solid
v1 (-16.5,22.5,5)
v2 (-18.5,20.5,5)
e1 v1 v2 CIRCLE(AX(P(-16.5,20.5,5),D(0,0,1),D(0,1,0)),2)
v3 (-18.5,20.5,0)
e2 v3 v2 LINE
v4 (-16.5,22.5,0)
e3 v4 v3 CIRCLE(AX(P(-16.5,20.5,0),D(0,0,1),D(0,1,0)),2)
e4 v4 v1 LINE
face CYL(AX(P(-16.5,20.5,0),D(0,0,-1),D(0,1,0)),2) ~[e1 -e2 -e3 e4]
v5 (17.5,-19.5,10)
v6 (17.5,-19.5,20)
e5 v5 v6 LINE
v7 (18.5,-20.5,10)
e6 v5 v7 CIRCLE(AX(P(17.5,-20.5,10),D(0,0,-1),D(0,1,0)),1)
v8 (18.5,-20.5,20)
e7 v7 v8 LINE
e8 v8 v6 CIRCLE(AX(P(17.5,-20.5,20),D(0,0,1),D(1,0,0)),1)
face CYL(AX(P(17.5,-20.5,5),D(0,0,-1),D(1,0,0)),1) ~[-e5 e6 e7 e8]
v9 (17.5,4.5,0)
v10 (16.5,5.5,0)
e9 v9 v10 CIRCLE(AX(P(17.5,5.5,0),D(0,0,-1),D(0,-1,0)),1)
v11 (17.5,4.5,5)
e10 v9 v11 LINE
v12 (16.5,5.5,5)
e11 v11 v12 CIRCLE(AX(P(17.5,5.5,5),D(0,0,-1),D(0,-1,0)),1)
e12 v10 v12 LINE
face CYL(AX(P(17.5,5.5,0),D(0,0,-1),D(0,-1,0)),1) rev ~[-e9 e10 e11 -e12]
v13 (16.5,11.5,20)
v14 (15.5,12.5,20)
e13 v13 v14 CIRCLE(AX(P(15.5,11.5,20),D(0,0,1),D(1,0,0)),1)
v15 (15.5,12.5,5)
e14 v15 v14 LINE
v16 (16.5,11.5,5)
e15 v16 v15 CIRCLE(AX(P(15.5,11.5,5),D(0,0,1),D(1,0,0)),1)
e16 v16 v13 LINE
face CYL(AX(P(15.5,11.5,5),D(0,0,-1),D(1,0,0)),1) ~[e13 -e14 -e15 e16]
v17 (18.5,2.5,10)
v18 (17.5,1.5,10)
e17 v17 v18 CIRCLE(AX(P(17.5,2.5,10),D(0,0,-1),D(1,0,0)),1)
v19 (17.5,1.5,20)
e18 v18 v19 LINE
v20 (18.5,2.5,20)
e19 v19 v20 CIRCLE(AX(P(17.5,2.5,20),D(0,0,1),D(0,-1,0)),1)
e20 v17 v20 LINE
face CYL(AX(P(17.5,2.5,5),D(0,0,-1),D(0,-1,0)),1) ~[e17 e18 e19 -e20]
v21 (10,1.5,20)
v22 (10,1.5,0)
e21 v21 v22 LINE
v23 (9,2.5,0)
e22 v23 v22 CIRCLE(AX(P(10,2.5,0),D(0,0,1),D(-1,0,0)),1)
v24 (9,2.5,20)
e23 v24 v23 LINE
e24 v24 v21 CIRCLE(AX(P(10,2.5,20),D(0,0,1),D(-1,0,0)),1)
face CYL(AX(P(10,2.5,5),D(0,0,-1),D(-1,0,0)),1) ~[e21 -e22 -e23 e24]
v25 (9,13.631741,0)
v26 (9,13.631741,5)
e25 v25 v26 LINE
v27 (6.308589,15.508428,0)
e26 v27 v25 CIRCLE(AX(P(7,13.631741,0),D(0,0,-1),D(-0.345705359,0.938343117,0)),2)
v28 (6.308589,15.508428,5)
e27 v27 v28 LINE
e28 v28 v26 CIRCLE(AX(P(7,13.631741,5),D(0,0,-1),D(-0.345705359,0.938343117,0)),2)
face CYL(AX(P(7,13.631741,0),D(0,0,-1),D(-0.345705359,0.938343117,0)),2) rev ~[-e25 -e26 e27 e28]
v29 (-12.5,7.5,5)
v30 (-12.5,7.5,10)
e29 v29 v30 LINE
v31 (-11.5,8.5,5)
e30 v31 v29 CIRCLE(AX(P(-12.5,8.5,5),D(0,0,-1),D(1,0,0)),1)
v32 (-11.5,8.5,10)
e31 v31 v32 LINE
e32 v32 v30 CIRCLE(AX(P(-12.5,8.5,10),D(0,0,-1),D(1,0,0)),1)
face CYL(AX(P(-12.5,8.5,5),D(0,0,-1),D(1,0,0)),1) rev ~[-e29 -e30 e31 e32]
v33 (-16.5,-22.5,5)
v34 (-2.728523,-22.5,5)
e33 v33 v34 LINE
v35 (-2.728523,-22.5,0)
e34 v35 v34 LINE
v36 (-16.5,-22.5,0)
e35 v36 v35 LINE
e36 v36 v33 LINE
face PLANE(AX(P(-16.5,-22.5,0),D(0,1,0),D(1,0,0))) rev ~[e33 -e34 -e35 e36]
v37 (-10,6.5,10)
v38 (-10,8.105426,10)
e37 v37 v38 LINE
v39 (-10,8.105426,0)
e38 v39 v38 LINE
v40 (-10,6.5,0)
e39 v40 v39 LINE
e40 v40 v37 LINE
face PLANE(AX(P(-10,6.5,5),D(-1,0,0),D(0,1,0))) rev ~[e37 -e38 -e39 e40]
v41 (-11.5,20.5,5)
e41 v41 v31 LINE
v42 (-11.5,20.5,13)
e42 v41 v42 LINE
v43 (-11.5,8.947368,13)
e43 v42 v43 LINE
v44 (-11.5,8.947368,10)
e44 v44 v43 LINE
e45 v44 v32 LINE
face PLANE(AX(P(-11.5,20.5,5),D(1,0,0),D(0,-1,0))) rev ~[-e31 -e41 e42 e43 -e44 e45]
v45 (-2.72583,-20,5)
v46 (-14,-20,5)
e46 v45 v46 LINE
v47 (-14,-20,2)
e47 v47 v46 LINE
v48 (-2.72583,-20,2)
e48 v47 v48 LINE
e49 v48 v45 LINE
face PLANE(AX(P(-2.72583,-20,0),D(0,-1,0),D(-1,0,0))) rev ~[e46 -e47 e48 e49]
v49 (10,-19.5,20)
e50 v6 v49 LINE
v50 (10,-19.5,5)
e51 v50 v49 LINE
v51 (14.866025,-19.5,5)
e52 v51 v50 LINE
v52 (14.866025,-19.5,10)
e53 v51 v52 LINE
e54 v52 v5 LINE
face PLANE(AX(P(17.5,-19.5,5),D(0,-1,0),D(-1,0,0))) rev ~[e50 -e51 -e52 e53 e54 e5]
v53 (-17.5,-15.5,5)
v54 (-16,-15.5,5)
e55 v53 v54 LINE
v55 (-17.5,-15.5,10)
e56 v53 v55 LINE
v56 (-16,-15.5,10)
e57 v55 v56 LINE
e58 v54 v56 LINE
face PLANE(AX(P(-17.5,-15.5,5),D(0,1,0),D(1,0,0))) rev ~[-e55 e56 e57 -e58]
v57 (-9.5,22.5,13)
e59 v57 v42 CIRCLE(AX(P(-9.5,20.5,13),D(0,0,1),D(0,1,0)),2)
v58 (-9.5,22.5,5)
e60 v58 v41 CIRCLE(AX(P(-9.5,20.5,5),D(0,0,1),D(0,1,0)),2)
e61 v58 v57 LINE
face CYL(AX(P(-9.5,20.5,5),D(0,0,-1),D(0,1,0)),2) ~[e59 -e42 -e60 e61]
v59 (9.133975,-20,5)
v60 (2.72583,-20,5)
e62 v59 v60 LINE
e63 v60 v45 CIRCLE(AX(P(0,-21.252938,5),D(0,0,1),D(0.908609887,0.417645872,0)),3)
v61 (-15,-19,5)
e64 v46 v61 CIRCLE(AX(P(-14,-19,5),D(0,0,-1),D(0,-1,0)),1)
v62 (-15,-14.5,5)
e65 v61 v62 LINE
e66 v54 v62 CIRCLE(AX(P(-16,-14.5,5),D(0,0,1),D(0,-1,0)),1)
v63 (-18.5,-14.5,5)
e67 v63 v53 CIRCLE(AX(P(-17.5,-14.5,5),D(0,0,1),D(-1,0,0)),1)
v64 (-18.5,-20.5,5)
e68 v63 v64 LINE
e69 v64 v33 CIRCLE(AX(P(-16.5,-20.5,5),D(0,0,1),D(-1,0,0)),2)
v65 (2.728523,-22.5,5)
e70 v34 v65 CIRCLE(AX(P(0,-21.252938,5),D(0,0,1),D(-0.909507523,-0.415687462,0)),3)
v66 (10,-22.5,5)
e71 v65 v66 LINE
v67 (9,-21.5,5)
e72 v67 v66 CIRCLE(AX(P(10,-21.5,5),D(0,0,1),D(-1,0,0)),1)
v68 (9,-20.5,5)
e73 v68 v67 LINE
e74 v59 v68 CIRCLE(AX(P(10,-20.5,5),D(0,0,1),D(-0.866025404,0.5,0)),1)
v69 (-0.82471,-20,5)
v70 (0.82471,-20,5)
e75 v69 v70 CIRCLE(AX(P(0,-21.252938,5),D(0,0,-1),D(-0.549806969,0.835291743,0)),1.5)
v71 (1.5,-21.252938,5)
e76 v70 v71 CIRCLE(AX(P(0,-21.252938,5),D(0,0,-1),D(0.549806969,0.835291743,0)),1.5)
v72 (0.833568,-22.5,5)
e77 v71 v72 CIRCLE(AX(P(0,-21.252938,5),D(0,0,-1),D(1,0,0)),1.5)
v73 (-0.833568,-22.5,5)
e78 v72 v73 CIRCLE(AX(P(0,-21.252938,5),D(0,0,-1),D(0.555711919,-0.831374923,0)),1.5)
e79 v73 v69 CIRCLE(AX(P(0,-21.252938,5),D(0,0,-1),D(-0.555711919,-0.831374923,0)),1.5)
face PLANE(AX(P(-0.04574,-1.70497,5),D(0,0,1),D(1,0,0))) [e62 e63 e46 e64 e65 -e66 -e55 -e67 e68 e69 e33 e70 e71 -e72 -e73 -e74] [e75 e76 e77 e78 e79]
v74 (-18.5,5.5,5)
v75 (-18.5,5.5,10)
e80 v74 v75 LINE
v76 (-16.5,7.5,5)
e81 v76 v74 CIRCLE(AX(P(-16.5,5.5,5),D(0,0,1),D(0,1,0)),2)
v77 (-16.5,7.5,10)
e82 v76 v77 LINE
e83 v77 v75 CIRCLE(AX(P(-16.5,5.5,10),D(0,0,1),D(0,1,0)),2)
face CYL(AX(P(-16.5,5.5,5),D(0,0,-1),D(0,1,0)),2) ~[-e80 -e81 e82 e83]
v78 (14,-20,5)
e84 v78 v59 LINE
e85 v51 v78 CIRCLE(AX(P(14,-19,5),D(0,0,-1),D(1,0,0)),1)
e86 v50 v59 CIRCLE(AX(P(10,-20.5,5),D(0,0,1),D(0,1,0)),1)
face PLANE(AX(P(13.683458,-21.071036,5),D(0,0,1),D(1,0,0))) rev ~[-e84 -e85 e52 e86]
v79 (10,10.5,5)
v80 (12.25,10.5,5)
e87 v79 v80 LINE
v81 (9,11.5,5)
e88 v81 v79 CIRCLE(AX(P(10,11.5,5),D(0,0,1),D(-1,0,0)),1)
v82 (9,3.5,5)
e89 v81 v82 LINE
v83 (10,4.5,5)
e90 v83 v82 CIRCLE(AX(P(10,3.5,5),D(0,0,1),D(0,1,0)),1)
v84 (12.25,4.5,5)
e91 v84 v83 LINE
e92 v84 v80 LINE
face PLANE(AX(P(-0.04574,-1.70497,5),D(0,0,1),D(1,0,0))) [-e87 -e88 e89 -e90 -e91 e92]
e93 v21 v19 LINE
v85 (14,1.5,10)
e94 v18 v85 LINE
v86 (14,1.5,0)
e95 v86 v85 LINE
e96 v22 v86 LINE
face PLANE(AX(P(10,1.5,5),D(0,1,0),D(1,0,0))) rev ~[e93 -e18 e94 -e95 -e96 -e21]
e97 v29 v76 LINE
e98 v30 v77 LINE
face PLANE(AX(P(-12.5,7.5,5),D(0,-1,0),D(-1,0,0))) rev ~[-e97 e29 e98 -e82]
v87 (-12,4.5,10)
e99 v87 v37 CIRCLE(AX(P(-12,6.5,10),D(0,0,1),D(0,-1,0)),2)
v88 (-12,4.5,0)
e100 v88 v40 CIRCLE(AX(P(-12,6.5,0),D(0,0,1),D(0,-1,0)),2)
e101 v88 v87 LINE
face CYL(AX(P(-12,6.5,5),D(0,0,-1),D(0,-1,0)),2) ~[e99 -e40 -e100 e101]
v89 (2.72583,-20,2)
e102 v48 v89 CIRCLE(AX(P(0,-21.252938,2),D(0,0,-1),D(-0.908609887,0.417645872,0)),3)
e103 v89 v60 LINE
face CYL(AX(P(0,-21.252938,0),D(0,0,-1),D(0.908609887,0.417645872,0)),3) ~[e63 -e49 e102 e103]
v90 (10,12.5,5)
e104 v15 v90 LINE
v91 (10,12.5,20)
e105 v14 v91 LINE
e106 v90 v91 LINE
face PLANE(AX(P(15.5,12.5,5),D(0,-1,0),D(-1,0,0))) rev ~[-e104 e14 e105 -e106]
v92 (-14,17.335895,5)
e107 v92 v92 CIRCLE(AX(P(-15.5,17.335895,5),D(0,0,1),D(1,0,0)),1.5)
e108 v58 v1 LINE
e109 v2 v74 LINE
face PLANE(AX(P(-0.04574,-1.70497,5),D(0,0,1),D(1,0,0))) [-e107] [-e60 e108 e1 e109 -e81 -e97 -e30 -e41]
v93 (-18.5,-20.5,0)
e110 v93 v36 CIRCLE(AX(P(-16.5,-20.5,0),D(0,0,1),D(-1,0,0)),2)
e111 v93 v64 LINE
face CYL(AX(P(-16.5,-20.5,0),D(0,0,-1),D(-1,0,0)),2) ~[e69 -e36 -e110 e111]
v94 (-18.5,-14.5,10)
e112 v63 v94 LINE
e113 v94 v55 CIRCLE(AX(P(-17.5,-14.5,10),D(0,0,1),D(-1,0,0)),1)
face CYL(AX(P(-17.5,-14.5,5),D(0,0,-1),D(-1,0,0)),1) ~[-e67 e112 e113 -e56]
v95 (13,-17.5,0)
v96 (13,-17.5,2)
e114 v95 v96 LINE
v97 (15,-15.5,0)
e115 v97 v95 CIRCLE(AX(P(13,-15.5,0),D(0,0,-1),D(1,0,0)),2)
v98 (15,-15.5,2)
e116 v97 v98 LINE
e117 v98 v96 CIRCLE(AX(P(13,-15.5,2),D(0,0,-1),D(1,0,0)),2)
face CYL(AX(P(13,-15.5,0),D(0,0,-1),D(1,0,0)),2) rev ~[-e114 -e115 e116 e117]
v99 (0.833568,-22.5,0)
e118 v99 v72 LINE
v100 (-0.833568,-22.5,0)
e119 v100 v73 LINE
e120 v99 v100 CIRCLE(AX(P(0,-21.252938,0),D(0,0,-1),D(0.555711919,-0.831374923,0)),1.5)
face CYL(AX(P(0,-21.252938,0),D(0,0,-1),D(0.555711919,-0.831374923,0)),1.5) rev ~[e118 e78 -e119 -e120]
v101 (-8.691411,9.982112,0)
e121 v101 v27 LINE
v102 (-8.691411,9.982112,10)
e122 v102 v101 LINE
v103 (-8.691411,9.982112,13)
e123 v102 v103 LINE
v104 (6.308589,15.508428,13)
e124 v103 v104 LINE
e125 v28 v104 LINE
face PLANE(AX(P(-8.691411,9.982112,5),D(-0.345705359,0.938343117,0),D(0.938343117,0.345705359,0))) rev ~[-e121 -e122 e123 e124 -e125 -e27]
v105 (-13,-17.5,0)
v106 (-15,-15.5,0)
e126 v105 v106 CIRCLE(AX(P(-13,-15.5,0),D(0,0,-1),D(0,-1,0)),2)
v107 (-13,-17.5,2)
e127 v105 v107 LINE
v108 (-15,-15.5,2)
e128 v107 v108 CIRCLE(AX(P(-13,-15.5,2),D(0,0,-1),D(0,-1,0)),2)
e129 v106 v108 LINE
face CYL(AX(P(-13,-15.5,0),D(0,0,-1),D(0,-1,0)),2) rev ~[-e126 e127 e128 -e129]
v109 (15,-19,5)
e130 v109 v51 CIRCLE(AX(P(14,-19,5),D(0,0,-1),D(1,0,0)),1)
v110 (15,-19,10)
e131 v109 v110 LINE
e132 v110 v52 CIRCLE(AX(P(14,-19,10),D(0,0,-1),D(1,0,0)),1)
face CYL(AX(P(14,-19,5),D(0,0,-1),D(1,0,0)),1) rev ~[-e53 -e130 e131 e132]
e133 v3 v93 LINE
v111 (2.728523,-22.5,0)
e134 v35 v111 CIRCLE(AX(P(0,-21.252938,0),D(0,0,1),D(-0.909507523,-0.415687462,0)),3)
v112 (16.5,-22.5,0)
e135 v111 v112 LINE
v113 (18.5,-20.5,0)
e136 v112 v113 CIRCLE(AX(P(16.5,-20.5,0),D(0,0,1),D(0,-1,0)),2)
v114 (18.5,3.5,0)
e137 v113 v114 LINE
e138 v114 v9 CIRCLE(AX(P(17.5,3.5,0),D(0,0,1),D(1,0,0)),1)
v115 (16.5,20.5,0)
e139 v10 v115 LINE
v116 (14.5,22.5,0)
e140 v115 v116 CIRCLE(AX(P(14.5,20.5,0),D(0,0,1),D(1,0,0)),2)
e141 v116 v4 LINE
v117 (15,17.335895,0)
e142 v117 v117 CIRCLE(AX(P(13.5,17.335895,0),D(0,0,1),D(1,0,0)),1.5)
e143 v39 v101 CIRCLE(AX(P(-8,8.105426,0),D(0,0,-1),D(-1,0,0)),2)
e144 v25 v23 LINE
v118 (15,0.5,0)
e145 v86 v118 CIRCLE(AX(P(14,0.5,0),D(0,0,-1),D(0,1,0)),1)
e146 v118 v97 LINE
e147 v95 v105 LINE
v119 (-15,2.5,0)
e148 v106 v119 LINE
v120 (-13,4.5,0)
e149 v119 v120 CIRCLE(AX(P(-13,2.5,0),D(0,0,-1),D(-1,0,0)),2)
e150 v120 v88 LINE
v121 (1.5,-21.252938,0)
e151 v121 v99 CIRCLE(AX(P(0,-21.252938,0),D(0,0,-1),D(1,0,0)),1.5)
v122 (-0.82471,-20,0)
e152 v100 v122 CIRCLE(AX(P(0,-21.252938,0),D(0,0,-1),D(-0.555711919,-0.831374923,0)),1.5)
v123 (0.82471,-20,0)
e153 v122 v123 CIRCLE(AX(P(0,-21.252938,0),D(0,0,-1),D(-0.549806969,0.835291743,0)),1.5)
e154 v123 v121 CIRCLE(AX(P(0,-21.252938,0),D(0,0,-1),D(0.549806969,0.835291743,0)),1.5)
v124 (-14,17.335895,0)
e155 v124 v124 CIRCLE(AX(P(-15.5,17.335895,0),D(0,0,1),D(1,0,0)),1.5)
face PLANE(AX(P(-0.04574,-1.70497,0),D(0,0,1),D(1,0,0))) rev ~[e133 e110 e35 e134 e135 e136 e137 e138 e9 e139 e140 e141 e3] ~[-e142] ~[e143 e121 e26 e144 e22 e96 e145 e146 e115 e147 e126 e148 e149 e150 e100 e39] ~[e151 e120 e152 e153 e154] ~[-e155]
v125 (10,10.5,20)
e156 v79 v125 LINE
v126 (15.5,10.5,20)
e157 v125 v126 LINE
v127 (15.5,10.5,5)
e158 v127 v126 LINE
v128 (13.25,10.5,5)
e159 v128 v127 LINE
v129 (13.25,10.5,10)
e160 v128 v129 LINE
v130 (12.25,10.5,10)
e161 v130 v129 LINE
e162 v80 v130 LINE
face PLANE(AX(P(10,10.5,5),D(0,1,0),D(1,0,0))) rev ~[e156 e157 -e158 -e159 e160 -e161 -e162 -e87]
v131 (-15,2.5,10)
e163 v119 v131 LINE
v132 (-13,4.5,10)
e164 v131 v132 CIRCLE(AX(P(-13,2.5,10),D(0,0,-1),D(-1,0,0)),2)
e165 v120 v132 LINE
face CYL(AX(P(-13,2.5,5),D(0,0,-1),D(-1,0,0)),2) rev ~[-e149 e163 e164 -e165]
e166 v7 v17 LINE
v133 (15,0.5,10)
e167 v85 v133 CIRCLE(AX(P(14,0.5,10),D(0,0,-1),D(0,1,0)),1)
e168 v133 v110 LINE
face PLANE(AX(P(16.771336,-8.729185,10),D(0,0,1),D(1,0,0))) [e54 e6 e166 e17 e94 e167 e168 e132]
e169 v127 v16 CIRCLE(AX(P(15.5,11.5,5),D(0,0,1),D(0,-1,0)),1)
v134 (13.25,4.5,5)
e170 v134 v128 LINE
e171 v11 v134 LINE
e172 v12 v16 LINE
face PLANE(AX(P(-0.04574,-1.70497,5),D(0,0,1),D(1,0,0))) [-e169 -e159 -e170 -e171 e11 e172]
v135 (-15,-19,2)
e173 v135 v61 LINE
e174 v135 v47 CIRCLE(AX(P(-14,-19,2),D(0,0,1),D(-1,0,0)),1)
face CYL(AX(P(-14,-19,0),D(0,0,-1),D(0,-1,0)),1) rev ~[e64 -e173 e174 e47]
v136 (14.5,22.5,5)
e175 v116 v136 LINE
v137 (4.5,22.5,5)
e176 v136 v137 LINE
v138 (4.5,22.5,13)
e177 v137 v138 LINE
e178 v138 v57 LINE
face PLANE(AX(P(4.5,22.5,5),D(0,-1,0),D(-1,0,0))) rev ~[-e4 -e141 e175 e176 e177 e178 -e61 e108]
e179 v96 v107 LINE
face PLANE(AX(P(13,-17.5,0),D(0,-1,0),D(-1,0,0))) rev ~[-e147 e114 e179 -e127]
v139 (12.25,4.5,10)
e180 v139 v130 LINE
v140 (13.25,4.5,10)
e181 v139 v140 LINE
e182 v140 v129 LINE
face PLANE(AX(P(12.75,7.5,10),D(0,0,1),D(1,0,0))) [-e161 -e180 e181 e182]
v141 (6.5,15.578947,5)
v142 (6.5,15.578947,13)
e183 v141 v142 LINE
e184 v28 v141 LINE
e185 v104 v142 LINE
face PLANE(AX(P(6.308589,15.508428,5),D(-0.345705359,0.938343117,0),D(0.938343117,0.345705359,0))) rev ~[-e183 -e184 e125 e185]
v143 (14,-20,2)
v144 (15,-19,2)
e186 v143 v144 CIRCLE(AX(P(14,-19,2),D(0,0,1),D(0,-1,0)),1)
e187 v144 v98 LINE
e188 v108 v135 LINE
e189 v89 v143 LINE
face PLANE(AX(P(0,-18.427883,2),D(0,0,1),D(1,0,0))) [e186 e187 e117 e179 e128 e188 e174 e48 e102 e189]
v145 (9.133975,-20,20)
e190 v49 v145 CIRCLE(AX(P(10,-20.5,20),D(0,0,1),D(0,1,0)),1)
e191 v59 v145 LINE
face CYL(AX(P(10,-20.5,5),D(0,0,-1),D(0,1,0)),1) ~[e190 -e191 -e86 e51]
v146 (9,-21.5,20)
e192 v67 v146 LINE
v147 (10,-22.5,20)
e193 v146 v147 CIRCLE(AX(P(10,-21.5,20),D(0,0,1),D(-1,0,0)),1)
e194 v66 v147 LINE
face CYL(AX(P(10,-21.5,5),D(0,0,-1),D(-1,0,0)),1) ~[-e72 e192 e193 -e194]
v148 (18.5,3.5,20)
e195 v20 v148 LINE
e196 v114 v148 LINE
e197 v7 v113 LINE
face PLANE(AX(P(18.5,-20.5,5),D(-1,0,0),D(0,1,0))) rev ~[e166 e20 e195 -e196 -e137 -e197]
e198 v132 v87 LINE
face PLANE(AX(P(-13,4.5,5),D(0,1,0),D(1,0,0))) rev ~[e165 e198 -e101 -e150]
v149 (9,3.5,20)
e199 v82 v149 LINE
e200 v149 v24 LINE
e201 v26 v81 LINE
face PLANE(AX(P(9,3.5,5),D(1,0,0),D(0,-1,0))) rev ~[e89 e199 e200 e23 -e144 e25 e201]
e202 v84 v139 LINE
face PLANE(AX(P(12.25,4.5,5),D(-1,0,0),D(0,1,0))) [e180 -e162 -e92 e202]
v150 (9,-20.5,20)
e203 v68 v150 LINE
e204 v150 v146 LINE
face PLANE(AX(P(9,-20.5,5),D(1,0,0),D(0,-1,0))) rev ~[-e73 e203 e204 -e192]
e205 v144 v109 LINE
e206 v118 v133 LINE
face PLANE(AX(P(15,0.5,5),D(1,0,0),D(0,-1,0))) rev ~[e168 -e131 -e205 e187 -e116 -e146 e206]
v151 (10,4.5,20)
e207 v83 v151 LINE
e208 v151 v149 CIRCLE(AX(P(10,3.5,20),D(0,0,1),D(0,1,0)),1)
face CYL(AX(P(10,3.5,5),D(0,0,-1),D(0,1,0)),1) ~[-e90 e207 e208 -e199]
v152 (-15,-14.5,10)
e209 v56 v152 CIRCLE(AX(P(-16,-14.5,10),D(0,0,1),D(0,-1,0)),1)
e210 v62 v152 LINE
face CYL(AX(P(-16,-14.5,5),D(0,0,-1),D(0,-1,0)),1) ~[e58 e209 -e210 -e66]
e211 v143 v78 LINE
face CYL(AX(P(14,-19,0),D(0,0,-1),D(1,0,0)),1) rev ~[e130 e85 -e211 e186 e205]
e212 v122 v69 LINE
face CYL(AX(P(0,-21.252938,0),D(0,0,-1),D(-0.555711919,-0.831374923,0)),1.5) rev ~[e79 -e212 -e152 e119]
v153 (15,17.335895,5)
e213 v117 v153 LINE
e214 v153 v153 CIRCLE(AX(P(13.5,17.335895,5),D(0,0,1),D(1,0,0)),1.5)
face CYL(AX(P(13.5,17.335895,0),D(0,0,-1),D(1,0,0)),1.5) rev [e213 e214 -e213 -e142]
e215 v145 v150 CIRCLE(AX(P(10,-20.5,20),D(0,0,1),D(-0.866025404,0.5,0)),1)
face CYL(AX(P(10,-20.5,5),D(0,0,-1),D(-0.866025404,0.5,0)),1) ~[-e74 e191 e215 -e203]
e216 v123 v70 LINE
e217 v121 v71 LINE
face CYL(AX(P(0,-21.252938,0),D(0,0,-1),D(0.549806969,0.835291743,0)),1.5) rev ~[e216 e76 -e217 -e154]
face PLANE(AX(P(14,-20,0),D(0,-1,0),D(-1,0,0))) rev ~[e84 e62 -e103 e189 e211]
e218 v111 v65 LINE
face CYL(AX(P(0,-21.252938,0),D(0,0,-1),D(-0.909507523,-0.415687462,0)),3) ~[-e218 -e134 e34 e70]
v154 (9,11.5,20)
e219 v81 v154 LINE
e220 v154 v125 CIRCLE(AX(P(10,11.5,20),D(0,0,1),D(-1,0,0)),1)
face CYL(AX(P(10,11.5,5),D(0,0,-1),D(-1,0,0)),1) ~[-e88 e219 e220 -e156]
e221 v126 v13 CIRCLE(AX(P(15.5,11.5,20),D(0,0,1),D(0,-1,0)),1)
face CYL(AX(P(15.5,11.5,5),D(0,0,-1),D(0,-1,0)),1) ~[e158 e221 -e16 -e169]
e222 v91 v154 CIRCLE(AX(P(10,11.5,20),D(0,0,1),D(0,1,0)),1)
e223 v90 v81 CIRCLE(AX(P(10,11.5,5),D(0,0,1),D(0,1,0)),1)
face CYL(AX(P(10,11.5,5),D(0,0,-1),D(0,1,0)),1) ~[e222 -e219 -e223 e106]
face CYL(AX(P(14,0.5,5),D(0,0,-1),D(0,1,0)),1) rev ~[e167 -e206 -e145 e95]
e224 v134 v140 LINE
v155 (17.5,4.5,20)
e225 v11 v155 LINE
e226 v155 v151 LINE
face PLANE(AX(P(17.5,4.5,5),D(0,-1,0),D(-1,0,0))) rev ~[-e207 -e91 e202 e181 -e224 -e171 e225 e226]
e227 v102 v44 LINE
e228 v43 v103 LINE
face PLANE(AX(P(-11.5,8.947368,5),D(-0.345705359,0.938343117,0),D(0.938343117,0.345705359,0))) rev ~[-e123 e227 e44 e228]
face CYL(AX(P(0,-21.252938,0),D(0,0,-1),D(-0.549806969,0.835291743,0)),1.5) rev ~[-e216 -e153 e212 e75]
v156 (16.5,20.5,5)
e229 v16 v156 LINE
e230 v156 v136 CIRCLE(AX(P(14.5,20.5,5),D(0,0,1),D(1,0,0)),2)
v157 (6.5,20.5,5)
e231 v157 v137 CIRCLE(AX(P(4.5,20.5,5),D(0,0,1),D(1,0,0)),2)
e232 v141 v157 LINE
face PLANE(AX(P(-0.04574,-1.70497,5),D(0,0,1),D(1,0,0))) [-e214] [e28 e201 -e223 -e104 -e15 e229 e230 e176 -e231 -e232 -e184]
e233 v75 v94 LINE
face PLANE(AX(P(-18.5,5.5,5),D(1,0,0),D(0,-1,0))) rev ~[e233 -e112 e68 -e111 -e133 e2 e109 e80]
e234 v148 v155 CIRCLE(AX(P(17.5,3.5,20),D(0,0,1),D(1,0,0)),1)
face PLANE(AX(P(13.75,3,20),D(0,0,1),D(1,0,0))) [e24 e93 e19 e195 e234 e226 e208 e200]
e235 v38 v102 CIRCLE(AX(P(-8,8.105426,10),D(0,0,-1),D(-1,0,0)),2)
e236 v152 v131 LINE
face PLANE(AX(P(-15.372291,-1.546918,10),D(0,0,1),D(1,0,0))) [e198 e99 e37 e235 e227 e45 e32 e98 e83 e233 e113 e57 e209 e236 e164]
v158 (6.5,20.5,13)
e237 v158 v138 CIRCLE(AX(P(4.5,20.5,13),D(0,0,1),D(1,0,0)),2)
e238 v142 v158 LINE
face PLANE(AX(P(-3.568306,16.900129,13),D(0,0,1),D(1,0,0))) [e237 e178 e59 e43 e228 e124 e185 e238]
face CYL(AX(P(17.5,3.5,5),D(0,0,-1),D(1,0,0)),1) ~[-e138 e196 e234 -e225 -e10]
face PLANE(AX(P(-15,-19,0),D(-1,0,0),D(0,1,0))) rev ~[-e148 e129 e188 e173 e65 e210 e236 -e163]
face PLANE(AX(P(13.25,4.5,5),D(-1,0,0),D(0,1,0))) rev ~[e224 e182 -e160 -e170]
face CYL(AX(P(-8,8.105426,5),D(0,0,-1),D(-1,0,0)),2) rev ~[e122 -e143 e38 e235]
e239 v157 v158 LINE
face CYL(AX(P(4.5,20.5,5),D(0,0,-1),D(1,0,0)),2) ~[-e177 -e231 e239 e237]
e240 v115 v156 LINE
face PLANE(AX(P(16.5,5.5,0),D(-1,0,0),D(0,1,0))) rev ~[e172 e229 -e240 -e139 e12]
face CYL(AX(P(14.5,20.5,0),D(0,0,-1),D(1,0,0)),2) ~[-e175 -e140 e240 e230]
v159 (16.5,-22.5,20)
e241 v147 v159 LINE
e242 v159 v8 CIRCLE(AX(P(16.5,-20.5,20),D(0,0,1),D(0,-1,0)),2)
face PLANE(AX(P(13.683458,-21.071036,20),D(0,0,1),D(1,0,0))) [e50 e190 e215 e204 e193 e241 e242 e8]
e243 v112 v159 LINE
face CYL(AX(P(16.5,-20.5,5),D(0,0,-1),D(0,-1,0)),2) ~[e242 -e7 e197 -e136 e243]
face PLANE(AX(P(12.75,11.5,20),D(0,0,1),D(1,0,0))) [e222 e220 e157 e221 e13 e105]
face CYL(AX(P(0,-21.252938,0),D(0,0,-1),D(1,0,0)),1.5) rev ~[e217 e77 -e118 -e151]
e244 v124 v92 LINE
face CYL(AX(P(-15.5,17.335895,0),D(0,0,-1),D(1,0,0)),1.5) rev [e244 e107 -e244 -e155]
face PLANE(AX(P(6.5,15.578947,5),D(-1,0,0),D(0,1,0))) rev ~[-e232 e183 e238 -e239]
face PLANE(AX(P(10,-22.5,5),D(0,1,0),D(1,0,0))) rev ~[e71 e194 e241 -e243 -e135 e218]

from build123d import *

# Parameters (mm, degrees)
F1_DEPTH = 2
F0_R     = 3
F0_R_2   = 1.5
F2_DEPTH = 5
F4_DEPTH = 5
F5_DEPTH = 8
F6_DEPTH = 15
F7_DEPTH = 15
F3_W     = 1
F3_H     = 6
F8_DEPTH = 5


with BuildPart() as f1:
    # F0 (on Top) → F1 (new body)
    with BuildSketch(Plane.XY):
        with BuildLine():
            Line((-14, -20), (-2.7258296596, -20))
            ThreePointArc((-2.7258296596, -20), (0, -18.2529376149), (2.7258296596, -20))
            Line((2.7258296596, -20), (14, -20))
            ThreePointArc((14, -20), (14.7071067812, -19.7071067812), (15, -19))
            Line((15, -19), (15, -15.5))
            ThreePointArc((15, -15.5), (14.4142135624, -16.9142135624), (13, -17.5))
            Line((13, -17.5), (-13, -17.5))
            ThreePointArc((-13, -17.5), (-14.4142135624, -16.9142135624), (-15, -15.5))
            Line((-15, -15.5), (-15, -19))
            ThreePointArc((-15, -19), (-14.7071067812, -19.7071067812), (-14, -20))
        make_face()
    extrude(amount=F1_DEPTH)

    # F0 (on Top) → F2 (join)
    with BuildSketch(Plane.XY):
        with BuildLine():
            ThreePointArc((16.5, 20.5), (15.9142135624, 21.9142135624), (14.5, 22.5))
            Line((14.5, 22.5), (-16.5, 22.5))
            ThreePointArc((-16.5, 22.5), (-17.9142135624, 21.9142135624), (-18.5, 20.5))
            Line((-18.5, 20.5), (-18.5, 17.3358949354))
            Line((-18.5, 17.3358949354), (-18.5, -20.5))
            ThreePointArc((-18.5, -20.5), (-17.9142135624, -21.9142135624), (-16.5, -22.5))
            Line((-16.5, -22.5), (-2.7285225687, -22.5))
            ThreePointArc((-2.7285225687, -22.5), (-2.9999982596, -21.2497061259), (-2.7258296596, -20))
            Line((-2.7258296596, -20), (-14, -20))
            ThreePointArc((-14, -20), (-14.7071067812, -19.7071067812), (-15, -19))
            Line((-15, -19), (-15, -15.5))
            Line((-15, -15.5), (-15, 2.5))
            ThreePointArc((-15, 2.5), (-14.4142135624, 3.9142135624), (-13, 4.5))
            Line((-13, 4.5), (-12, 4.5))
            ThreePointArc((-12, 4.5), (-10.5857864376, 5.0857864376), (-10, 6.5))
            Line((-10, 6.5), (-10, 8.1054256072))
            ThreePointArc((-10, 8.1054256072), (-9.6405519552, 9.2493614806), (-8.6914107177, 9.9821118409))
            Line((-8.6914107177, 9.9821118409), (6.3085892823, 15.5084276303))
            ThreePointArc((6.3085892823, 15.5084276303), (8.1439358734, 15.2722933519), (9, 13.6317413967))
            Line((9, 13.6317413967), (9, 2.5))
            ThreePointArc((9, 2.5), (9.2928932188, 1.7928932188), (10, 1.5))
            Line((10, 1.5), (14, 1.5))
            ThreePointArc((14, 1.5), (14.7071067812, 1.2071067812), (15, 0.5))
            Line((15, 0.5), (15, -15.5))
            Line((15, -15.5), (15, -19))
            ThreePointArc((15, -19), (14.7071067812, -19.7071067812), (14, -20))
            Line((14, -20), (2.7258296596, -20))
            ThreePointArc((2.7258296596, -20), (2.9306559828, -20.6116455515), (3, -21.2529376149))
            ThreePointArc((3, -21.2529376149), (2.9313450587, -21.8910725121), (2.7285225687, -22.5))
            Line((2.7285225687, -22.5), (16.5, -22.5))
            ThreePointArc((16.5, -22.5), (17.9142135624, -21.9142135624), (18.5, -20.5))
            Line((18.5, -20.5), (18.5, 3.5))
            ThreePointArc((18.5, 3.5), (18.2071067812, 4.2071067812), (17.5, 4.5))
            ThreePointArc((17.5, 4.5), (16.7928932188, 4.7928932188), (16.5, 5.5))
            Line((16.5, 5.5), (16.5, 17.3358949354))
            Line((16.5, 17.3358949354), (16.5, 20.5))
        make_face()
        with BuildLine():
            ThreePointArc((-12.5, 17.3358949354), (-15.5, 14.3358949354), (-18.5, 17.3358949354))
            ThreePointArc((-18.5, 17.3358949354), (-15.5, 20.3358949354), (-12.5, 17.3358949354))
        make_face(mode=Mode.SUBTRACT)
        with Locations((13.5, 17.3358949354)):
            Circle(F0_R, mode=Mode.SUBTRACT)
        with BuildLine():
            ThreePointArc((-2.7258296596, -20), (-2.9999982596, -21.2497061259), (-2.7285225687, -22.5))
            Line((-2.7285225687, -22.5), (-0.8335678783, -22.5))
            ThreePointArc((-0.8335678783, -22.5), (-1.4999905856, -21.2476231938), (-0.8247104541, -20))
            Line((-0.8247104541, -20), (-2.7258296596, -20))
        make_face()
        with BuildLine():
            Line((-0.8335678783, -22.5), (-2.7285225687, -22.5))
            ThreePointArc((-2.7285225687, -22.5), (0, -24.2529376149), (2.7285225687, -22.5))
            Line((2.7285225687, -22.5), (0.8335678783, -22.5))
            ThreePointArc((0.8335678783, -22.5), (0, -22.7529376149), (-0.8335678783, -22.5))
        make_face()
        with BuildLine():
            Line((0.8335678783, -22.5), (2.7285225687, -22.5))
            ThreePointArc((2.7285225687, -22.5), (2.9313450587, -21.8910725121), (3, -21.2529376149))
            ThreePointArc((3, -21.2529376149), (2.9306559828, -20.6116455515), (2.7258296596, -20))
            Line((2.7258296596, -20), (0.8247104541, -20))
            ThreePointArc((0.8247104541, -20), (1.3204290366, -20.5412725537), (1.5, -21.2529376149))
            ThreePointArc((1.5, -21.2529376149), (1.3229421411, -21.9599199989), (0.8335678783, -22.5))
        make_face()
        with BuildLine():
            ThreePointArc((2.7258296596, -20), (0, -18.2529376149), (-2.7258296596, -20))
            Line((-2.7258296596, -20), (-0.8247104541, -20))
            ThreePointArc((-0.8247104541, -20), (0, -19.7529376149), (0.8247104541, -20))
            Line((0.8247104541, -20), (2.7258296596, -20))
        make_face()
        with BuildLine():
            ThreePointArc((-12.5, 17.3358949354), (-15.5, 20.3358949354), (-18.5, 17.3358949354))
            ThreePointArc((-18.5, 17.3358949354), (-15.5, 14.3358949354), (-12.5, 17.3358949354))
        make_face()
        with Locations((-15.5, 17.3358949354)):
            Circle(F0_R_2, mode=Mode.SUBTRACT)
        with Locations((13.5, 17.3358949354)):
            Circle(F0_R)
        with Locations((13.5, 17.3358949354)):
            Circle(F0_R_2, mode=Mode.SUBTRACT)
    extrude(amount=F2_DEPTH)

    # F3 (on face) → F4 (join)
    with BuildSketch(Plane.XY.offset(5)):
        with BuildLine():
            ThreePointArc((-18.5, -14.5), (-18.2071067812, -15.2071067812), (-17.5, -15.5))
            Line((-17.5, -15.5), (-16, -15.5))
            ThreePointArc((-16, -15.5), (-15.2928932188, -15.2071067812), (-15, -14.5))
            Line((-15, -14.5), (-15, 2.5))
            ThreePointArc((-15, 2.5), (-14.4142135624, 3.9142135624), (-13, 4.5))
            Line((-13, 4.5), (-12, 4.5))
            ThreePointArc((-12, 4.5), (-10.5857864376, 5.0857864376), (-10, 6.5))
            Line((-10, 6.5), (-10, 8.1054256072))
            ThreePointArc((-10, 8.1054256072), (-9.6405519552, 9.2493614806), (-8.6914107177, 9.9821118409))
            Line((-8.6914107177, 9.9821118409), (-11.5, 8.9473684211))
            Line((-11.5, 8.9473684211), (-11.5, 8.5))
            ThreePointArc((-11.5, 8.5), (-11.7928932188, 7.7928932188), (-12.5, 7.5))
            Line((-12.5, 7.5), (-16.5, 7.5))
            ThreePointArc((-16.5, 7.5), (-17.9142135624, 6.9142135624), (-18.5, 5.5))
            Line((-18.5, 5.5), (-18.5, -14.5))
        make_face()
    extrude(amount=F4_DEPTH)

    # F3 (on face) → F5 (join)
    with BuildSketch(Plane.XY.offset(5)):
        with BuildLine():
            Line((4.5, 22.5), (-9.5, 22.5))
            ThreePointArc((-9.5, 22.5), (-10.9142135624, 21.9142135624), (-11.5, 20.5))
            Line((-11.5, 20.5), (-11.5, 8.9473684211))
            Line((-11.5, 8.9473684211), (-8.6914107177, 9.9821118409))
            Line((-8.6914107177, 9.9821118409), (6.3085892823, 15.5084276303))
            Line((6.3085892823, 15.5084276303), (6.5, 15.5789473684))
            Line((6.5, 15.5789473684), (6.5, 20.5))
            ThreePointArc((6.5, 20.5), (5.9142135624, 21.9142135624), (4.5, 22.5))
        make_face()
    extrude(amount=F5_DEPTH)

    # F3 (on face) → F6 (join)
    with BuildSketch(Plane.XY.offset(5)):
        with BuildLine():
            ThreePointArc((9, -21.5), (9.2928932188, -22.2071067812), (10, -22.5))
            Line((10, -22.5), (16.5, -22.5))
            ThreePointArc((16.5, -22.5), (17.9142135624, -21.9142135624), (18.5, -20.5))
            ThreePointArc((18.5, -20.5), (18.2071067812, -19.7928932188), (17.5, -19.5))
            Line((17.5, -19.5), (14.8660254038, -19.5))
            ThreePointArc((14.8660254038, -19.5), (14.5, -19.8660254038), (14, -20))
            Line((14, -20), (9.1339745962, -20))
            ThreePointArc((9.1339745962, -20), (9.0340741737, -20.2411809549), (9, -20.5))
            Line((9, -20.5), (9, -21.5))
        make_face()
        with BuildLine():
            ThreePointArc((10, -19.5), (9.5, -19.6339745962), (9.1339745962, -20))
            Line((9.1339745962, -20), (14, -20))
            ThreePointArc((14, -20), (14.5, -19.8660254038), (14.8660254038, -19.5))
            Line((14.8660254038, -19.5), (10, -19.5))
        make_face()
    extrude(amount=F6_DEPTH)

    # F3 (on face) → F7 (join)
    with BuildSketch(Plane.XY.offset(5)):
        with BuildLine():
            ThreePointArc((15.5, 10.5), (16.2071067812, 10.7928932188), (16.5, 11.5))
            ThreePointArc((16.5, 11.5), (16.2071067812, 12.2071067812), (15.5, 12.5))
            Line((15.5, 12.5), (10, 12.5))
            ThreePointArc((10, 12.5), (9.2928932188, 12.2071067812), (9, 11.5))
            ThreePointArc((9, 11.5), (9.2928932188, 10.7928932188), (10, 10.5))
            Line((10, 10.5), (12.25, 10.5))
            Line((12.25, 10.5), (13.25, 10.5))
            Line((13.25, 10.5), (15.5, 10.5))
        make_face()
        with BuildLine():
            ThreePointArc((17.5, 1.5), (18.2071067812, 1.7928932188), (18.5, 2.5))
            Line((18.5, 2.5), (18.5, 3.5))
            ThreePointArc((18.5, 3.5), (18.2071067812, 4.2071067812), (17.5, 4.5))
            Line((17.5, 4.5), (13.25, 4.5))
            Line((13.25, 4.5), (12.25, 4.5))
            Line((12.25, 4.5), (10, 4.5))
            ThreePointArc((10, 4.5), (9.2928932188, 4.2071067812), (9, 3.5))
            Line((9, 3.5), (9, 2.5))
            ThreePointArc((9, 2.5), (9.2928932188, 1.7928932188), (10, 1.5))
            Line((10, 1.5), (14, 1.5))
            Line((14, 1.5), (17.5, 1.5))
        make_face()
    extrude(amount=F7_DEPTH)

    # F3 (on face) → F8 (join)
    with BuildSketch(Plane.XY.offset(5)):
        with Locations((12.75, 7.5)):
            Rectangle(F3_W, F3_H)
        with BuildLine():
            ThreePointArc((17.5, -19.5), (18.2071067812, -19.7928932188), (18.5, -20.5))
            Line((18.5, -20.5), (18.5, 2.5))
            ThreePointArc((18.5, 2.5), (18.2071067812, 1.7928932188), (17.5, 1.5))
            Line((17.5, 1.5), (14, 1.5))
            ThreePointArc((14, 1.5), (14.7071067812, 1.2071067812), (15, 0.5))
            Line((15, 0.5), (15, -19))
            ThreePointArc((15, -19), (14.9659258263, -19.2588190451), (14.8660254038, -19.5))
            Line((14.8660254038, -19.5), (17.5, -19.5))
        make_face()
    extrude(amount=F8_DEPTH)


solid = f1.part
